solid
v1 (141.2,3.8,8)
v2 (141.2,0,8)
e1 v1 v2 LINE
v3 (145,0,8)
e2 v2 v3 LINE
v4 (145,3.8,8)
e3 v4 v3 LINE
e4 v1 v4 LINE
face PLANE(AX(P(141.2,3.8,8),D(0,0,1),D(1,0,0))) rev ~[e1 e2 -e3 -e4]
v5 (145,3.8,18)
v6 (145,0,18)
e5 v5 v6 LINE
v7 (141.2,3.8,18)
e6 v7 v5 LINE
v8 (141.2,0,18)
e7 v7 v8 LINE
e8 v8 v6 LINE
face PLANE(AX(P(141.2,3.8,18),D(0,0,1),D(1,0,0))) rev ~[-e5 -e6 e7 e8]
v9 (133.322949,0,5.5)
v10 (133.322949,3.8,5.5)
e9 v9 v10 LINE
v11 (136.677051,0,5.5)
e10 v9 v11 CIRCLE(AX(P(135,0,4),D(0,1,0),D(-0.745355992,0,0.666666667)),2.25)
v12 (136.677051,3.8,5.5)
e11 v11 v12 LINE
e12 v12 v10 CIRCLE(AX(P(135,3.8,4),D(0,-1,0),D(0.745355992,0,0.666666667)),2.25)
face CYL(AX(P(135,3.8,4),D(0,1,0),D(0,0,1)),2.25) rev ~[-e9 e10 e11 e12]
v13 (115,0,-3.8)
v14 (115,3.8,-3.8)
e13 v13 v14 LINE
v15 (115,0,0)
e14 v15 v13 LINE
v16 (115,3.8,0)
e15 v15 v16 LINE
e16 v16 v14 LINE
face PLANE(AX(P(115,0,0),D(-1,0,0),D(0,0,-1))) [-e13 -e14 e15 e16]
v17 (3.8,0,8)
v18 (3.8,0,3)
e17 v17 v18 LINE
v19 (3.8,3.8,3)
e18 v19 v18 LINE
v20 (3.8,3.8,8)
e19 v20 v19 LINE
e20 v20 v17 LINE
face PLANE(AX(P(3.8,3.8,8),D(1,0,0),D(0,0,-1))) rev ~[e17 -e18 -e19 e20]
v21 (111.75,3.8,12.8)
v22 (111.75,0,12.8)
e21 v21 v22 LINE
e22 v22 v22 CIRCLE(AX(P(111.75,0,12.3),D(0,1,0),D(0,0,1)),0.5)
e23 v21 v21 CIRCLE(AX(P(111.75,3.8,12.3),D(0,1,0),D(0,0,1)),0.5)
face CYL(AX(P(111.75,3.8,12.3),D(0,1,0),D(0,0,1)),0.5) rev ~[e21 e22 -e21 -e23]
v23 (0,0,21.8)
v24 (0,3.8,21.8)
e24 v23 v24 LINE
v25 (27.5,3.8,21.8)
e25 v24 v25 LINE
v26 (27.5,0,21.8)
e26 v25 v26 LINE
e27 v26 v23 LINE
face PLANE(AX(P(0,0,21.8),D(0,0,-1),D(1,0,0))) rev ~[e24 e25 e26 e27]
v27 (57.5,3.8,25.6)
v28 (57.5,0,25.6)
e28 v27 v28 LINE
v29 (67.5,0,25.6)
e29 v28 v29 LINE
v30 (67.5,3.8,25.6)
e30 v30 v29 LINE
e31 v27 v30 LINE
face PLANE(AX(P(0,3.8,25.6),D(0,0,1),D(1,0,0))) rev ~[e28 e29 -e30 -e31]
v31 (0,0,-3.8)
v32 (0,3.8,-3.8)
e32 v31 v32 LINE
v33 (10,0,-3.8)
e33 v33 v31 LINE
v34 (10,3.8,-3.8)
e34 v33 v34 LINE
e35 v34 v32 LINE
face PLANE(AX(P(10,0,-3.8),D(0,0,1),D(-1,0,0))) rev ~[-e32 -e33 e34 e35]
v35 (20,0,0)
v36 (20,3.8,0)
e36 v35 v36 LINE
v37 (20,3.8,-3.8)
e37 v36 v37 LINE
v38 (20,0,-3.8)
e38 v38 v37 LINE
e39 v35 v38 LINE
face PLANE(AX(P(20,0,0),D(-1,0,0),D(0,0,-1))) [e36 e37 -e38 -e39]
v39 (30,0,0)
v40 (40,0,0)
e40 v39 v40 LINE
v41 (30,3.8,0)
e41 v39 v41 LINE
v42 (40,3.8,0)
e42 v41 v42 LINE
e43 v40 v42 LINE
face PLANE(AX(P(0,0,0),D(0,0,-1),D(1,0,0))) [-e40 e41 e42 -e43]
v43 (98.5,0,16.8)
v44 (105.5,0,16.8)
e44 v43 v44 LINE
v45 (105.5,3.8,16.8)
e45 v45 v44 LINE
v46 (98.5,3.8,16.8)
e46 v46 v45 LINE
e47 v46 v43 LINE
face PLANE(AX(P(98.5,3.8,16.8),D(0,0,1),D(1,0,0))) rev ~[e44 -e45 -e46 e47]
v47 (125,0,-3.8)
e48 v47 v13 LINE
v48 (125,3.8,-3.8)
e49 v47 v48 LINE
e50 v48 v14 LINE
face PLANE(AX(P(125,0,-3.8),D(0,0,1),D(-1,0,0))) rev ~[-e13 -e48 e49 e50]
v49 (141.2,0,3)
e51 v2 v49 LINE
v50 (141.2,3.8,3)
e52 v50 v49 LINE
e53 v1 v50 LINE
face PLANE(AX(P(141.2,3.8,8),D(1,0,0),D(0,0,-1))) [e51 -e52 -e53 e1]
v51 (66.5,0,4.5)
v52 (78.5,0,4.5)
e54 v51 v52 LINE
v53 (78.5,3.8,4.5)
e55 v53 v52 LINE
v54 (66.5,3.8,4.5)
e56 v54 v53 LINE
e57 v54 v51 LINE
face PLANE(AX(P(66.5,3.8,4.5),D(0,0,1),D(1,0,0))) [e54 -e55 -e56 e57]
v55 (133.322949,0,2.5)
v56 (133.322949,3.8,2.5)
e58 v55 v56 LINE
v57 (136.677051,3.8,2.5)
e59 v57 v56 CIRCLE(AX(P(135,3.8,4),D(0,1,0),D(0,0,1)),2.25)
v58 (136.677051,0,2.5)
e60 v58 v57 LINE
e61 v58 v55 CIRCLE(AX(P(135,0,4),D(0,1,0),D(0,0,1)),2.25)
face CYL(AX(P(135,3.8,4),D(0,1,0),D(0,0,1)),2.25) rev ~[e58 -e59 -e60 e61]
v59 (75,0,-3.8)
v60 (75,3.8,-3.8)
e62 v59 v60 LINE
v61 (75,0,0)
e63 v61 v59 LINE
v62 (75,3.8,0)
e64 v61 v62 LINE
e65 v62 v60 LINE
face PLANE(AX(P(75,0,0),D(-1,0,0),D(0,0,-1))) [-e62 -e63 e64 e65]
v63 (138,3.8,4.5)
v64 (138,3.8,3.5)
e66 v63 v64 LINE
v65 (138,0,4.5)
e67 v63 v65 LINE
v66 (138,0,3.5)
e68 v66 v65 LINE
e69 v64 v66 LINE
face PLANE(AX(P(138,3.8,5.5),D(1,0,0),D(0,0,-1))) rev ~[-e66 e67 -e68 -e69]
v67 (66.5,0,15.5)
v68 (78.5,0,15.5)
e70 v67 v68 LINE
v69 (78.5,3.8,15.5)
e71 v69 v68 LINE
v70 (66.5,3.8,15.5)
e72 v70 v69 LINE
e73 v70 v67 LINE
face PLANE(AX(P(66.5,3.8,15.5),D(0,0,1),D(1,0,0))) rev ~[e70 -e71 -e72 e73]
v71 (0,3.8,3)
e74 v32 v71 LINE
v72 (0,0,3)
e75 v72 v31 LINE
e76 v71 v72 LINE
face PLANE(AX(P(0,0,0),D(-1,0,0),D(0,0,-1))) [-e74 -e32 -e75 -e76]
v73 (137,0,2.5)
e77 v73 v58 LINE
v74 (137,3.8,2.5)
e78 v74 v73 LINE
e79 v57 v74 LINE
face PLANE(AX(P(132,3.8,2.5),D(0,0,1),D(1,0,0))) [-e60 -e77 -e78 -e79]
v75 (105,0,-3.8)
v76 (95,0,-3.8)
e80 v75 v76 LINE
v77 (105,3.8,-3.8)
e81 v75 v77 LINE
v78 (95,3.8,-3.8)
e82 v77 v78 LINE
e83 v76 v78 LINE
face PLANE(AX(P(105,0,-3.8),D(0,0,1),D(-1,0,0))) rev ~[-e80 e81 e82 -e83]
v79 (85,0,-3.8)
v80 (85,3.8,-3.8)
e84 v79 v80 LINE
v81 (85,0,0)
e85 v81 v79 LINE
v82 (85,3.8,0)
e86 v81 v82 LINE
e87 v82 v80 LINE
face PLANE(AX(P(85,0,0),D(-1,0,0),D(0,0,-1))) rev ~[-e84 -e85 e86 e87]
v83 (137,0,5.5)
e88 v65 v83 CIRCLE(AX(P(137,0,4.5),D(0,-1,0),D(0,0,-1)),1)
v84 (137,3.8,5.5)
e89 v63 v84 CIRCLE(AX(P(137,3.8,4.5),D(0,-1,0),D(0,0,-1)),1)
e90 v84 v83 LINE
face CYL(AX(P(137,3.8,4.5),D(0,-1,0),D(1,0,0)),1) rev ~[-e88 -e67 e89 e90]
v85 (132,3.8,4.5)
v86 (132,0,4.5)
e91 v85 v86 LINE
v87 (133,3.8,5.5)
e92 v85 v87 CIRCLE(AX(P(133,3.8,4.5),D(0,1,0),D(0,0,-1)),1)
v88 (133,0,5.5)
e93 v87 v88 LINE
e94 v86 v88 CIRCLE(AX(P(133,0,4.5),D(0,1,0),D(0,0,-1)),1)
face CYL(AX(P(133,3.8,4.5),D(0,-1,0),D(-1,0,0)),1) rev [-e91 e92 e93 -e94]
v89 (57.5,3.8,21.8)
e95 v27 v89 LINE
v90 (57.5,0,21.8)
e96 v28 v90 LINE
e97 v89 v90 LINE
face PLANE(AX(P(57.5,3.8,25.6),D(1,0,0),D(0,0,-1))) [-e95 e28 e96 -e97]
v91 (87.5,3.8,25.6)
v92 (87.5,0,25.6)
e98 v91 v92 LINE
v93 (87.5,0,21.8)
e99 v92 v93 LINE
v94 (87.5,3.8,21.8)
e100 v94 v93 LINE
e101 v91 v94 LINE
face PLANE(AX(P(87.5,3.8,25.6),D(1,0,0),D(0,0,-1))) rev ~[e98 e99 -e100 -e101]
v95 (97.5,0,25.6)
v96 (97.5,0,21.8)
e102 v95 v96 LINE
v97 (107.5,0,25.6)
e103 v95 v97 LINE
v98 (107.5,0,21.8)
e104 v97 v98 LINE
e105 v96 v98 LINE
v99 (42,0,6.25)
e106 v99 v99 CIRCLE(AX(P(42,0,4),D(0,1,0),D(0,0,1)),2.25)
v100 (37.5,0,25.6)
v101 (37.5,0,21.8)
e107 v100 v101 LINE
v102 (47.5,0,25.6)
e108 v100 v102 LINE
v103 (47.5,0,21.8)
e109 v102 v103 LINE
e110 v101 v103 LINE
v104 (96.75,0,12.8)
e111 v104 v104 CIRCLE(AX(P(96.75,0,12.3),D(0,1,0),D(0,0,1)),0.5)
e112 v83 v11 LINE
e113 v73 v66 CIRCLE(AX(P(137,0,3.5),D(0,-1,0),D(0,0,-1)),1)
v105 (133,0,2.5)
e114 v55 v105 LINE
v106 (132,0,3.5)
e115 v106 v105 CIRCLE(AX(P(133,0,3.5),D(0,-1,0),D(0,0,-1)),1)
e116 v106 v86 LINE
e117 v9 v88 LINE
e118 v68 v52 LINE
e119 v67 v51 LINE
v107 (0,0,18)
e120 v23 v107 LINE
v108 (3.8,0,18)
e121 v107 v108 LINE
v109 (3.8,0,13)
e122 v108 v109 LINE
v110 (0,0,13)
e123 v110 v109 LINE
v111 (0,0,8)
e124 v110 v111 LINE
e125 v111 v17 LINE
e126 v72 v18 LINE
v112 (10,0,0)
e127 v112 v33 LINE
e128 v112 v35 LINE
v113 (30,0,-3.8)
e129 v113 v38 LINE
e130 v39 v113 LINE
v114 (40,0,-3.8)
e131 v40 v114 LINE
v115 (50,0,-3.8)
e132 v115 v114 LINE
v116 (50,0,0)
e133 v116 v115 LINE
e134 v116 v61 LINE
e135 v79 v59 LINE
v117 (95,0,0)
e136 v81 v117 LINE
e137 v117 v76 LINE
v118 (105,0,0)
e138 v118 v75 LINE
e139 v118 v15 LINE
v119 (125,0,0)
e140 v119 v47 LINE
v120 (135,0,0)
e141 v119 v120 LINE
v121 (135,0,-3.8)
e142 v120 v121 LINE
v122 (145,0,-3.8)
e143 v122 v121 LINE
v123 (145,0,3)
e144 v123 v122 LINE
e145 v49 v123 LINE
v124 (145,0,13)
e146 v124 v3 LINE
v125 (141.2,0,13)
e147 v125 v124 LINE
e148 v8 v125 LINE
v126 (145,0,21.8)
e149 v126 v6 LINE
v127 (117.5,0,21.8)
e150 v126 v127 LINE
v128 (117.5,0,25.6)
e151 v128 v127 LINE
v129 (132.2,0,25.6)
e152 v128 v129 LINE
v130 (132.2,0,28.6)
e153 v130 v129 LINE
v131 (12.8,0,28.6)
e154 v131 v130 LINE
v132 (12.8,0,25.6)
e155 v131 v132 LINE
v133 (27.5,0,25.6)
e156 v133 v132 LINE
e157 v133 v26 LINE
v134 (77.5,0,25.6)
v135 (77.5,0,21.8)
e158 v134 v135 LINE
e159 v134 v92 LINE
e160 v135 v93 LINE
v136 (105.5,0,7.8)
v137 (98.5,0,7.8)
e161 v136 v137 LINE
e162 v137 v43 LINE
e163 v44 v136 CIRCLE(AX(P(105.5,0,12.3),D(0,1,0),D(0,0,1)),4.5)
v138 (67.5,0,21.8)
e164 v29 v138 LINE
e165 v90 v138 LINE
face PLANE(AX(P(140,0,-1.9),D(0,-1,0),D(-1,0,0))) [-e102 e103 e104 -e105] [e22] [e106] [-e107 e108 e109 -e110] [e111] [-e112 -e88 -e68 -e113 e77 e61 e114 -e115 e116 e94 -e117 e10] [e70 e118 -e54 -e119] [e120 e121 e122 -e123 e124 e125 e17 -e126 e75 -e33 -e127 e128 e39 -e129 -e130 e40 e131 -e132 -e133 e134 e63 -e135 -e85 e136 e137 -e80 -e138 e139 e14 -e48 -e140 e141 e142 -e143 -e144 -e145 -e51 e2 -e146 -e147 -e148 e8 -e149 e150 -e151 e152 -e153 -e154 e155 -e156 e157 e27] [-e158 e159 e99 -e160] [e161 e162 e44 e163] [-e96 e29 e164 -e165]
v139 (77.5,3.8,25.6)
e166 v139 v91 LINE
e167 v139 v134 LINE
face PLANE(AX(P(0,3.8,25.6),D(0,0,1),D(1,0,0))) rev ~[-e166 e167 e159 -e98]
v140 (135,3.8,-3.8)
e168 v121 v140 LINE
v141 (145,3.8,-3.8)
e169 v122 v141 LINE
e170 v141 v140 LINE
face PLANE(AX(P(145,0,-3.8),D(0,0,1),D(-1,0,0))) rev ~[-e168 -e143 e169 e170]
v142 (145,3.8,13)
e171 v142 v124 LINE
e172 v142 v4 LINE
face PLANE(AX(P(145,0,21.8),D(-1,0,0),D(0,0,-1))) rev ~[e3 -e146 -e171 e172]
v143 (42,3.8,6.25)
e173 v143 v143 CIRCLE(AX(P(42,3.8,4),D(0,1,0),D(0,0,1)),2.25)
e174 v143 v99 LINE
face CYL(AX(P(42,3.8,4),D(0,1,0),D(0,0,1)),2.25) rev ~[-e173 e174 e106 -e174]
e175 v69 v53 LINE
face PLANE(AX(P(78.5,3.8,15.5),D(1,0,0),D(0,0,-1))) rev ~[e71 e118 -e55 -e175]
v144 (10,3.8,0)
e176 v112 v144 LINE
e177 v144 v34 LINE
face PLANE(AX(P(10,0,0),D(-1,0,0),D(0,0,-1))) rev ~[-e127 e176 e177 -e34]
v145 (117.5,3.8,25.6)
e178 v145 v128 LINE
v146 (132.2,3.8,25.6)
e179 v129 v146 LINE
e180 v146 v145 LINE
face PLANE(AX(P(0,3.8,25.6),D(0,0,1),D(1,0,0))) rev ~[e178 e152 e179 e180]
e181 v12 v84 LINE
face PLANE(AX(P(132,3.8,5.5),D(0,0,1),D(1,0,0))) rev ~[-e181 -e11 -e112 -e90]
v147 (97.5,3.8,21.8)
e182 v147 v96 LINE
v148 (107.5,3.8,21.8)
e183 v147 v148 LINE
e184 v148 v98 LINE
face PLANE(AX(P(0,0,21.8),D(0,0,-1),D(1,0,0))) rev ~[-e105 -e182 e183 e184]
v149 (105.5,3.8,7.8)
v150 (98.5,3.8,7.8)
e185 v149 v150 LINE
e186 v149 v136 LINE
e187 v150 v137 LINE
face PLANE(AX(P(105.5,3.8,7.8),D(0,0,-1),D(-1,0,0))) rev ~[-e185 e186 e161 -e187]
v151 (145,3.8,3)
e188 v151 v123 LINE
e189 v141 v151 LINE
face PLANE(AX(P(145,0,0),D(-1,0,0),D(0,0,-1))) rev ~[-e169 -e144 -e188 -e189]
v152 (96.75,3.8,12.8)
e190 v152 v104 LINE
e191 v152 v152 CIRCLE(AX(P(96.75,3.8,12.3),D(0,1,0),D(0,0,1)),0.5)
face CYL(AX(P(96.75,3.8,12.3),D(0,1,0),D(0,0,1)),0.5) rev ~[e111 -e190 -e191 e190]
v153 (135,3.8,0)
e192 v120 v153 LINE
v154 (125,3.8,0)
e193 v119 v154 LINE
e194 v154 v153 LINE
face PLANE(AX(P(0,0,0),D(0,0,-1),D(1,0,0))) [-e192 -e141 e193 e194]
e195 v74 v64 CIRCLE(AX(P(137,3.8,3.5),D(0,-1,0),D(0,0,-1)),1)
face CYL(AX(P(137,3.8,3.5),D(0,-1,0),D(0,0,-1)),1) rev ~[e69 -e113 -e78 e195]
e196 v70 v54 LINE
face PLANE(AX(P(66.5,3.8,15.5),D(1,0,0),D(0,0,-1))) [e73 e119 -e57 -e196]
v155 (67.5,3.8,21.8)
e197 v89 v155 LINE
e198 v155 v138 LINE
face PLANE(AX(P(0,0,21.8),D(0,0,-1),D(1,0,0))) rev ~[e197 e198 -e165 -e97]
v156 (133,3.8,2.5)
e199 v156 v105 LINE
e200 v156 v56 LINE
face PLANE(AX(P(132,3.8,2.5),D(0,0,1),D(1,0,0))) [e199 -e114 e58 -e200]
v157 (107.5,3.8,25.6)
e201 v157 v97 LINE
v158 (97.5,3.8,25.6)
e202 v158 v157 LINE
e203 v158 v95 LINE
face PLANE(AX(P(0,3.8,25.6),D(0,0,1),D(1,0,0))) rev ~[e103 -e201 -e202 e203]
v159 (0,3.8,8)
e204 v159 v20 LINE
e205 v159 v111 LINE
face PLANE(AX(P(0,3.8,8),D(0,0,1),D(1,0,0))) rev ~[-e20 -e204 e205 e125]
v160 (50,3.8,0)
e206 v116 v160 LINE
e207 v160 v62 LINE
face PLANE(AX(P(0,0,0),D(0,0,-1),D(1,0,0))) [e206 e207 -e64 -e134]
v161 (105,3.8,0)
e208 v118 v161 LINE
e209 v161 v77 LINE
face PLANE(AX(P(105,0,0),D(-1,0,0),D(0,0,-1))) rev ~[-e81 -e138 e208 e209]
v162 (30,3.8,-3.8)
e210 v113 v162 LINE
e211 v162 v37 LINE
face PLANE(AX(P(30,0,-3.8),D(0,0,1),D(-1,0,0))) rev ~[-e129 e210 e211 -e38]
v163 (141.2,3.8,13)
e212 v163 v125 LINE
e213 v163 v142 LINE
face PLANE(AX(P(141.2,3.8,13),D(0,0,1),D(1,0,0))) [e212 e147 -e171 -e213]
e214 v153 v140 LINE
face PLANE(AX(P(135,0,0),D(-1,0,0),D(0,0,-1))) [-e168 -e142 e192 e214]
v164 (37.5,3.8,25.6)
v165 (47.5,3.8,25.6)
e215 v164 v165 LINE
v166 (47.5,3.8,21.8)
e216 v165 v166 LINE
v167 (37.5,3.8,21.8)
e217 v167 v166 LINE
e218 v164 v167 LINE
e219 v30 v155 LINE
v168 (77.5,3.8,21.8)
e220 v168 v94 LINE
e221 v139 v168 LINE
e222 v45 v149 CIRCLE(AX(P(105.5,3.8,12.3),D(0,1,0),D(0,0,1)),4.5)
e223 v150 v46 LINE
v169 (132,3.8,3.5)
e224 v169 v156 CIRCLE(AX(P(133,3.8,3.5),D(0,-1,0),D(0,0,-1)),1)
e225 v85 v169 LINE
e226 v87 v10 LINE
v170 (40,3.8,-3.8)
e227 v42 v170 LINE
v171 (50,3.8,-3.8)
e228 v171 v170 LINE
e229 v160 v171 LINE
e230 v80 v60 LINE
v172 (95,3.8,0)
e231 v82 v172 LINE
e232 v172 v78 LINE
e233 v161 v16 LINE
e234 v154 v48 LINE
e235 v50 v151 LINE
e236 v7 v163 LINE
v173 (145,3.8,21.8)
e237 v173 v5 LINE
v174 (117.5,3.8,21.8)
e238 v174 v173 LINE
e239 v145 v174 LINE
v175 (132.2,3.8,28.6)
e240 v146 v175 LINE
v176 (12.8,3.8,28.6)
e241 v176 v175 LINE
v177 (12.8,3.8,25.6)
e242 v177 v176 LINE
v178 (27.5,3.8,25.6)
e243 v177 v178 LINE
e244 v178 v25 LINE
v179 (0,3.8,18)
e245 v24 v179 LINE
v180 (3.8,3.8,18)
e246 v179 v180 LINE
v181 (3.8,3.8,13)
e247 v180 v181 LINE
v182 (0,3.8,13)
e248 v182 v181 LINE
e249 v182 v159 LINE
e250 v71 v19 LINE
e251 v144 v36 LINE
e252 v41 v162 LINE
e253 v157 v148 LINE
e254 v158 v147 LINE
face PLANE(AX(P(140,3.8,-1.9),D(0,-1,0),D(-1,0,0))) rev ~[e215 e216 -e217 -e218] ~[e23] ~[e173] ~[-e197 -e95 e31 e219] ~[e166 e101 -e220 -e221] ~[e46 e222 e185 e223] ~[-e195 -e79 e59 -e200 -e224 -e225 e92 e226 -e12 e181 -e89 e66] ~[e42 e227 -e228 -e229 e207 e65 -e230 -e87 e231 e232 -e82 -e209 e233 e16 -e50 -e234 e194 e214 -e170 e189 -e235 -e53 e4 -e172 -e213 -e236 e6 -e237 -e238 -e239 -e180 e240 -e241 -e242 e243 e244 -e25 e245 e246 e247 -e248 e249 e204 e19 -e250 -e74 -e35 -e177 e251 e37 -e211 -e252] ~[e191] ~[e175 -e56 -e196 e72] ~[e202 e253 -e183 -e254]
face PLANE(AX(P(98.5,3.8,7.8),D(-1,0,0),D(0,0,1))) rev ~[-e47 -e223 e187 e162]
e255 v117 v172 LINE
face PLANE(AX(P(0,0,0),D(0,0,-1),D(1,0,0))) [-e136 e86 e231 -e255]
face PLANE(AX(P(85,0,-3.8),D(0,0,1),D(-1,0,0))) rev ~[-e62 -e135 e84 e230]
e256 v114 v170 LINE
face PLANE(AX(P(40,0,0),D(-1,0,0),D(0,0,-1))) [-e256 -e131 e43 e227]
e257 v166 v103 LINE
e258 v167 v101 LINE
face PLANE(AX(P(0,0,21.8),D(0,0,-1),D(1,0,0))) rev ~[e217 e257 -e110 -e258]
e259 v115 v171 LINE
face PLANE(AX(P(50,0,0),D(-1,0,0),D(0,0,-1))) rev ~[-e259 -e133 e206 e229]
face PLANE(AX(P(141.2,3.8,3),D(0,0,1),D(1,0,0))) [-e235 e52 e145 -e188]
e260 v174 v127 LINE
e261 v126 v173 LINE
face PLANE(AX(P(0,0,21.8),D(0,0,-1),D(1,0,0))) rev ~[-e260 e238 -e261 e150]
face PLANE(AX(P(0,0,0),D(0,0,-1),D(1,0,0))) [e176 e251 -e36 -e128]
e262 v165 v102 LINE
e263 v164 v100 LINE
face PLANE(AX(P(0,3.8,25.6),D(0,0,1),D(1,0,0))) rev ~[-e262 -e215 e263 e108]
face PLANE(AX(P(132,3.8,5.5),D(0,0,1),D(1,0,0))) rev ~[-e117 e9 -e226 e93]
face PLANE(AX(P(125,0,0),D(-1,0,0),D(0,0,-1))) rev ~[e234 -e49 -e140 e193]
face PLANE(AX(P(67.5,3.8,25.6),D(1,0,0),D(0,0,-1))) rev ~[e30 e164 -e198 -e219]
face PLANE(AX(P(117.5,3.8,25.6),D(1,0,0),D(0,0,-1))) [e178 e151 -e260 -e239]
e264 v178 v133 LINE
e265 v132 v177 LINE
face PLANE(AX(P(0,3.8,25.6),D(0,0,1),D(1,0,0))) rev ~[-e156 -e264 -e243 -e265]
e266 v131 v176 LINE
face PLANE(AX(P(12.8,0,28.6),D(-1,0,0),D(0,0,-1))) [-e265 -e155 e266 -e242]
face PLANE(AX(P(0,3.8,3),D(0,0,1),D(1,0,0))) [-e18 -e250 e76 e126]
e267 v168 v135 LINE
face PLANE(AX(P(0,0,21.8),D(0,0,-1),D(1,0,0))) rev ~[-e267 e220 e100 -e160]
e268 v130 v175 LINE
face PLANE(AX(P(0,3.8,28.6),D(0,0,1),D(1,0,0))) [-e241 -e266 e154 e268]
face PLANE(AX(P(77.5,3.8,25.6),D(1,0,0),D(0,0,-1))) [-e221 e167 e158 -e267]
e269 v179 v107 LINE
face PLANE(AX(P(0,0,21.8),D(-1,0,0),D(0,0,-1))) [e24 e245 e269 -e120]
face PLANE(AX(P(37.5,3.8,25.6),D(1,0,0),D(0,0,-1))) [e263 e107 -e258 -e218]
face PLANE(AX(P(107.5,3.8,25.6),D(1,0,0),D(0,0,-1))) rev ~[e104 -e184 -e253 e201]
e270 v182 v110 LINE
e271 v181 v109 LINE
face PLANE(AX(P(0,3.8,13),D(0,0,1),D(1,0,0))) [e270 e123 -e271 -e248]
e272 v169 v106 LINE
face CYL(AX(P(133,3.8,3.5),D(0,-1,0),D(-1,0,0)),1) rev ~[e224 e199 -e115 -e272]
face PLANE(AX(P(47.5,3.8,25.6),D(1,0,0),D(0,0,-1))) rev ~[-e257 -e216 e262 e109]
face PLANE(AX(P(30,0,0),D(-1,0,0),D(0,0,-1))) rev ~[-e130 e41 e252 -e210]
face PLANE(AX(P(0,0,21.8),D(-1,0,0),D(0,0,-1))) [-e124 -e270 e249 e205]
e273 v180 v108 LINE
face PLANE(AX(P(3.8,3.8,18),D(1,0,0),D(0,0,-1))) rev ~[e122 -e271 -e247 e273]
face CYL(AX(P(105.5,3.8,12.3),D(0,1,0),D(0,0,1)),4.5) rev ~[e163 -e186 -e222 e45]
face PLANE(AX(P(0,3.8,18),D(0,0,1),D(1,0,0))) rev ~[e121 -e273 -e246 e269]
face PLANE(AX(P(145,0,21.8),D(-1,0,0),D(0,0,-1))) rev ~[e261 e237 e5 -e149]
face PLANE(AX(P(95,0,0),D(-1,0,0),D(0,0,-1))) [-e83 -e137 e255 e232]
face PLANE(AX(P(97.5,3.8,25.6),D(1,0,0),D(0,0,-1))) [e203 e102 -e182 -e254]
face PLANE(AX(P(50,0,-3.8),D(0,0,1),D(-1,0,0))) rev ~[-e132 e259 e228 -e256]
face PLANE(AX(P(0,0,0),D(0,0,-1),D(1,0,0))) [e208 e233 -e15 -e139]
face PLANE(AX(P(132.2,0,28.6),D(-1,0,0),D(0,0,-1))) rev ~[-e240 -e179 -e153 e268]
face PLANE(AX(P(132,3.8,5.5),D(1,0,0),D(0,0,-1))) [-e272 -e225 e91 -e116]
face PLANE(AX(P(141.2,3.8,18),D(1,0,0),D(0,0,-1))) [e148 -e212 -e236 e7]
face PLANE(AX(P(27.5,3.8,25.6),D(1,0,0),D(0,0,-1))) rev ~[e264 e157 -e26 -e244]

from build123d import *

# Parameters (mm, degrees)
SKETCH1_W           = 145
SKETCH1_H           = 21.8
BOSS_EXTRUDE1_DEPTH = 3.8
SKETCH2_W           = 12
SKETCH2_H           = 11
CUT_EXTRUDE1_DEPTH  = 147.678832829
SKETCH3_R           = 2.25
CUT_EXTRUDE2_DEPTH  = 147.678832829
SKETCH4_R           = 0.5
CUT_EXTRUDE3_DEPTH  = 147.678832829
SKETCH5_W           = 10
SKETCH5_H           = 3.8
BOSS_EXTRUDE2_DEPTH = 3.8
LPATTERN1_COUNT     = 4
LPATTERN1_PITCH     = 20
LPATTERN1_COL_COUNT = 4
LPATTERN1_COL_PITCH = 20
SKETCH6_W           = 145
SKETCH6_H           = 3
BOSS_EXTRUDE3_DEPTH = 3.8
SKETCH8_W           = 10
SKETCH8_H           = 3.8
CUT_EXTRUDE4_DEPTH  = 148.842483745
SKETCH9_W           = 3.8
SKETCH9_H           = 5
CUT_EXTRUDE5_DEPTH  = 148.842483745
SKETCH10_W          = 12.8
SKETCH10_H          = 3
CUT_EXTRUDE6_DEPTH  = 148.842483745
SKETCH11_W          = 10
SKETCH11_H          = 3.8
BOSS_EXTRUDE4_DEPTH = 3.8
LPATTERN2_COUNT     = 3
LPATTERN2_PITCH     = 20
SKETCH12_W          = 10
SKETCH12_H          = 3.8
BOSS_EXTRUDE5_DEPTH = 3.8
LPATTERN3_COUNT     = 4
LPATTERN3_PITCH     = 20
SKETCH13_W          = 6
SKETCH13_H          = 3
CUT_EXTRUDE7_DEPTH  = 148.842483745
FILLET1_R           = 1


with BuildPart() as part:
    # Sketch1 → Boss-Extrude1 (new body)
    with BuildSketch(Plane(origin=(0, 0, 0), x_dir=(1, 0, 0), z_dir=(0, 1, 0))):
        with Locations((72.5, -10.9)):
            Rectangle(SKETCH1_W, SKETCH1_H)
    extrude(amount=BOSS_EXTRUDE1_DEPTH)

    # Sketch2 → Cut-Extrude1 (cut, through all)
    with BuildSketch(Plane(origin=(0, 3.8, 0), x_dir=(1, 0, 0), z_dir=(0, 1, 0))):
        with Locations((72.5, -10)):
            Rectangle(SKETCH2_W, SKETCH2_H)
    extrude(amount=-CUT_EXTRUDE1_DEPTH, mode=Mode.SUBTRACT)

    # Sketch3 → Cut-Extrude2 (cut, through all)
    with BuildSketch(Plane(origin=(0, 3.8, 0), x_dir=(1, 0, 0), z_dir=(0, 1, 0))):
        with Locations(Location((42, -4, 0), (0, 0, 270))):
            Circle(SKETCH3_R)
        with Locations(Location((135, -4, 0), (0, 0, 270))):
            Circle(SKETCH3_R)
    extrude(amount=-CUT_EXTRUDE2_DEPTH, mode=Mode.SUBTRACT)

    # Sketch4 → Cut-Extrude3 (cut, through all)
    with BuildSketch(Plane(origin=(0, 3.8, 0), x_dir=(1, 0, 0), z_dir=(0, 1, 0))):
        with BuildLine():
            Line((98.5, -7.8), (98.5, -16.8))
            Line((98.5, -16.8), (105.5, -16.8))
            ThreePointArc((105.5, -16.8), (110, -12.300000006), (105.500000011, -7.8))
            Line((105.500000011, -7.8), (98.5, -7.8))
        make_face()
        with Locations(Location((96.75, -12.3, 0), (0, 0, 270))):
            Circle(SKETCH4_R)
        with Locations(Location((111.75, -12.3, 0), (0, 0, 270))):
            Circle(SKETCH4_R)
    extrude(amount=-CUT_EXTRUDE3_DEPTH, mode=Mode.SUBTRACT)

    # Sketch5 → Boss-Extrude2 (add, through all)
    with BuildSketch(Plane(origin=(0, 3.8, 0), x_dir=(1, 0, 0), z_dir=(0, 1, 0))):
        with Locations((72.5, -23.7)):
            Rectangle(SKETCH5_W, SKETCH5_H)
    boss_extrude2 = extrude(amount=-BOSS_EXTRUDE2_DEPTH)

    # LPattern1: Boss-Extrude2 ×4
    with Locations(*[(-i * LPATTERN1_PITCH, 0, 0) for i in range(1, LPATTERN1_COUNT)]):
        add(boss_extrude2)

    # LPattern1 col: Boss-Extrude2 ×4
    with Locations(*[(i * LPATTERN1_COL_PITCH, 0, 0) for i in range(1, LPATTERN1_COL_COUNT)]):
        add(boss_extrude2)

    # Sketch6 → Boss-Extrude3 (add, through all)
    with BuildSketch(Plane(origin=(0, 3.8, 0), x_dir=(1, 0, 0), z_dir=(0, 1, 0))):
        with Locations((72.5, -27.1)):
            Rectangle(SKETCH6_W, SKETCH6_H)
    extrude(amount=-BOSS_EXTRUDE3_DEPTH)

    # Sketch8 → Cut-Extrude4 (cut, through all)
    with BuildSketch(Plane(origin=(0, 0, 0), x_dir=(-1, 0, 0), z_dir=(0, -1, 0))):
        with Locations((-12.5, -23.7)):
            Rectangle(SKETCH8_W, SKETCH8_H)
        with Locations((-132.5, -23.7)):
            Rectangle(SKETCH8_W, SKETCH8_H)
    extrude(amount=-CUT_EXTRUDE4_DEPTH, mode=Mode.SUBTRACT)

    # Sketch9 → Cut-Extrude5 (cut, through all)
    with BuildSketch(Plane(origin=(0, 3.8, 0), x_dir=(1, 0, 0), z_dir=(0, 1, 0))):
        with Locations((1.9, -15.5)):
            Rectangle(SKETCH9_W, SKETCH9_H)
        with Locations((1.9, -5.5)):
            Rectangle(SKETCH9_W, SKETCH9_H)
        with Locations((143.1, -15.5)):
            Rectangle(SKETCH9_W, SKETCH9_H)
        with Locations((143.1, -5.5)):
            Rectangle(SKETCH9_W, SKETCH9_H)
    extrude(amount=-CUT_EXTRUDE5_DEPTH, mode=Mode.SUBTRACT)

    # Sketch10 → Cut-Extrude6 (cut, through all)
    with BuildSketch(Plane(origin=(0, 0, 0), x_dir=(-1, 0, 0), z_dir=(0, -1, 0))):
        with Locations((-6.4, -27.1)):
            Rectangle(SKETCH10_W, SKETCH10_H)
        with Locations((-138.6, -27.1)):
            Rectangle(SKETCH10_W, SKETCH10_H)
    extrude(amount=-CUT_EXTRUDE6_DEPTH, mode=Mode.SUBTRACT)

    # Sketch11 → Boss-Extrude4 (add, through all)
    with BuildSketch(Plane(origin=(0, 0, 0), x_dir=(-1, 0, 0), z_dir=(0, -1, 0))):
        with Locations((-5, 1.9)):
            Rectangle(SKETCH11_W, SKETCH11_H)
    boss_extrude4 = extrude(amount=-BOSS_EXTRUDE4_DEPTH)

    # LPattern2: Boss-Extrude4 ×3
    with Locations(*[(i * LPATTERN2_PITCH, 0, 0) for i in range(1, LPATTERN2_COUNT)]):
        add(boss_extrude4)

    # Sketch12 → Boss-Extrude5 (add, through all)
    with BuildSketch(Plane(origin=(0, 0, 0), x_dir=(-1, 0, 0), z_dir=(0, -1, 0))):
        with Locations((-140, 1.9)):
            Rectangle(SKETCH12_W, SKETCH12_H)
    boss_extrude5 = extrude(amount=-BOSS_EXTRUDE5_DEPTH)

    # LPattern3: Boss-Extrude5 ×4
    with Locations(*[(-i * LPATTERN3_PITCH, 0, 0) for i in range(1, LPATTERN3_COUNT)]):
        add(boss_extrude5)

    # Sketch13 → Cut-Extrude7 (cut, through all)
    with BuildSketch(Plane(origin=(0, 3.8, 0), x_dir=(1, 0, 0), z_dir=(0, 1, 0))):
        with Locations((135, -4)):
            Rectangle(SKETCH13_W, SKETCH13_H)
    extrude(amount=-CUT_EXTRUDE7_DEPTH, mode=Mode.SUBTRACT)

    # Fillet1
    fillet1_edges = [part.edges().sort_by_distance(p)[0] for p in [
        (138, 1.9, 5.5),
        (132, 1.9, 2.5),
        (138, 1.9, 2.5),
        (132, 1.9, 5.5),
    ]]
    fillet(fillet1_edges, radius=FILLET1_R)


solid = part.part
